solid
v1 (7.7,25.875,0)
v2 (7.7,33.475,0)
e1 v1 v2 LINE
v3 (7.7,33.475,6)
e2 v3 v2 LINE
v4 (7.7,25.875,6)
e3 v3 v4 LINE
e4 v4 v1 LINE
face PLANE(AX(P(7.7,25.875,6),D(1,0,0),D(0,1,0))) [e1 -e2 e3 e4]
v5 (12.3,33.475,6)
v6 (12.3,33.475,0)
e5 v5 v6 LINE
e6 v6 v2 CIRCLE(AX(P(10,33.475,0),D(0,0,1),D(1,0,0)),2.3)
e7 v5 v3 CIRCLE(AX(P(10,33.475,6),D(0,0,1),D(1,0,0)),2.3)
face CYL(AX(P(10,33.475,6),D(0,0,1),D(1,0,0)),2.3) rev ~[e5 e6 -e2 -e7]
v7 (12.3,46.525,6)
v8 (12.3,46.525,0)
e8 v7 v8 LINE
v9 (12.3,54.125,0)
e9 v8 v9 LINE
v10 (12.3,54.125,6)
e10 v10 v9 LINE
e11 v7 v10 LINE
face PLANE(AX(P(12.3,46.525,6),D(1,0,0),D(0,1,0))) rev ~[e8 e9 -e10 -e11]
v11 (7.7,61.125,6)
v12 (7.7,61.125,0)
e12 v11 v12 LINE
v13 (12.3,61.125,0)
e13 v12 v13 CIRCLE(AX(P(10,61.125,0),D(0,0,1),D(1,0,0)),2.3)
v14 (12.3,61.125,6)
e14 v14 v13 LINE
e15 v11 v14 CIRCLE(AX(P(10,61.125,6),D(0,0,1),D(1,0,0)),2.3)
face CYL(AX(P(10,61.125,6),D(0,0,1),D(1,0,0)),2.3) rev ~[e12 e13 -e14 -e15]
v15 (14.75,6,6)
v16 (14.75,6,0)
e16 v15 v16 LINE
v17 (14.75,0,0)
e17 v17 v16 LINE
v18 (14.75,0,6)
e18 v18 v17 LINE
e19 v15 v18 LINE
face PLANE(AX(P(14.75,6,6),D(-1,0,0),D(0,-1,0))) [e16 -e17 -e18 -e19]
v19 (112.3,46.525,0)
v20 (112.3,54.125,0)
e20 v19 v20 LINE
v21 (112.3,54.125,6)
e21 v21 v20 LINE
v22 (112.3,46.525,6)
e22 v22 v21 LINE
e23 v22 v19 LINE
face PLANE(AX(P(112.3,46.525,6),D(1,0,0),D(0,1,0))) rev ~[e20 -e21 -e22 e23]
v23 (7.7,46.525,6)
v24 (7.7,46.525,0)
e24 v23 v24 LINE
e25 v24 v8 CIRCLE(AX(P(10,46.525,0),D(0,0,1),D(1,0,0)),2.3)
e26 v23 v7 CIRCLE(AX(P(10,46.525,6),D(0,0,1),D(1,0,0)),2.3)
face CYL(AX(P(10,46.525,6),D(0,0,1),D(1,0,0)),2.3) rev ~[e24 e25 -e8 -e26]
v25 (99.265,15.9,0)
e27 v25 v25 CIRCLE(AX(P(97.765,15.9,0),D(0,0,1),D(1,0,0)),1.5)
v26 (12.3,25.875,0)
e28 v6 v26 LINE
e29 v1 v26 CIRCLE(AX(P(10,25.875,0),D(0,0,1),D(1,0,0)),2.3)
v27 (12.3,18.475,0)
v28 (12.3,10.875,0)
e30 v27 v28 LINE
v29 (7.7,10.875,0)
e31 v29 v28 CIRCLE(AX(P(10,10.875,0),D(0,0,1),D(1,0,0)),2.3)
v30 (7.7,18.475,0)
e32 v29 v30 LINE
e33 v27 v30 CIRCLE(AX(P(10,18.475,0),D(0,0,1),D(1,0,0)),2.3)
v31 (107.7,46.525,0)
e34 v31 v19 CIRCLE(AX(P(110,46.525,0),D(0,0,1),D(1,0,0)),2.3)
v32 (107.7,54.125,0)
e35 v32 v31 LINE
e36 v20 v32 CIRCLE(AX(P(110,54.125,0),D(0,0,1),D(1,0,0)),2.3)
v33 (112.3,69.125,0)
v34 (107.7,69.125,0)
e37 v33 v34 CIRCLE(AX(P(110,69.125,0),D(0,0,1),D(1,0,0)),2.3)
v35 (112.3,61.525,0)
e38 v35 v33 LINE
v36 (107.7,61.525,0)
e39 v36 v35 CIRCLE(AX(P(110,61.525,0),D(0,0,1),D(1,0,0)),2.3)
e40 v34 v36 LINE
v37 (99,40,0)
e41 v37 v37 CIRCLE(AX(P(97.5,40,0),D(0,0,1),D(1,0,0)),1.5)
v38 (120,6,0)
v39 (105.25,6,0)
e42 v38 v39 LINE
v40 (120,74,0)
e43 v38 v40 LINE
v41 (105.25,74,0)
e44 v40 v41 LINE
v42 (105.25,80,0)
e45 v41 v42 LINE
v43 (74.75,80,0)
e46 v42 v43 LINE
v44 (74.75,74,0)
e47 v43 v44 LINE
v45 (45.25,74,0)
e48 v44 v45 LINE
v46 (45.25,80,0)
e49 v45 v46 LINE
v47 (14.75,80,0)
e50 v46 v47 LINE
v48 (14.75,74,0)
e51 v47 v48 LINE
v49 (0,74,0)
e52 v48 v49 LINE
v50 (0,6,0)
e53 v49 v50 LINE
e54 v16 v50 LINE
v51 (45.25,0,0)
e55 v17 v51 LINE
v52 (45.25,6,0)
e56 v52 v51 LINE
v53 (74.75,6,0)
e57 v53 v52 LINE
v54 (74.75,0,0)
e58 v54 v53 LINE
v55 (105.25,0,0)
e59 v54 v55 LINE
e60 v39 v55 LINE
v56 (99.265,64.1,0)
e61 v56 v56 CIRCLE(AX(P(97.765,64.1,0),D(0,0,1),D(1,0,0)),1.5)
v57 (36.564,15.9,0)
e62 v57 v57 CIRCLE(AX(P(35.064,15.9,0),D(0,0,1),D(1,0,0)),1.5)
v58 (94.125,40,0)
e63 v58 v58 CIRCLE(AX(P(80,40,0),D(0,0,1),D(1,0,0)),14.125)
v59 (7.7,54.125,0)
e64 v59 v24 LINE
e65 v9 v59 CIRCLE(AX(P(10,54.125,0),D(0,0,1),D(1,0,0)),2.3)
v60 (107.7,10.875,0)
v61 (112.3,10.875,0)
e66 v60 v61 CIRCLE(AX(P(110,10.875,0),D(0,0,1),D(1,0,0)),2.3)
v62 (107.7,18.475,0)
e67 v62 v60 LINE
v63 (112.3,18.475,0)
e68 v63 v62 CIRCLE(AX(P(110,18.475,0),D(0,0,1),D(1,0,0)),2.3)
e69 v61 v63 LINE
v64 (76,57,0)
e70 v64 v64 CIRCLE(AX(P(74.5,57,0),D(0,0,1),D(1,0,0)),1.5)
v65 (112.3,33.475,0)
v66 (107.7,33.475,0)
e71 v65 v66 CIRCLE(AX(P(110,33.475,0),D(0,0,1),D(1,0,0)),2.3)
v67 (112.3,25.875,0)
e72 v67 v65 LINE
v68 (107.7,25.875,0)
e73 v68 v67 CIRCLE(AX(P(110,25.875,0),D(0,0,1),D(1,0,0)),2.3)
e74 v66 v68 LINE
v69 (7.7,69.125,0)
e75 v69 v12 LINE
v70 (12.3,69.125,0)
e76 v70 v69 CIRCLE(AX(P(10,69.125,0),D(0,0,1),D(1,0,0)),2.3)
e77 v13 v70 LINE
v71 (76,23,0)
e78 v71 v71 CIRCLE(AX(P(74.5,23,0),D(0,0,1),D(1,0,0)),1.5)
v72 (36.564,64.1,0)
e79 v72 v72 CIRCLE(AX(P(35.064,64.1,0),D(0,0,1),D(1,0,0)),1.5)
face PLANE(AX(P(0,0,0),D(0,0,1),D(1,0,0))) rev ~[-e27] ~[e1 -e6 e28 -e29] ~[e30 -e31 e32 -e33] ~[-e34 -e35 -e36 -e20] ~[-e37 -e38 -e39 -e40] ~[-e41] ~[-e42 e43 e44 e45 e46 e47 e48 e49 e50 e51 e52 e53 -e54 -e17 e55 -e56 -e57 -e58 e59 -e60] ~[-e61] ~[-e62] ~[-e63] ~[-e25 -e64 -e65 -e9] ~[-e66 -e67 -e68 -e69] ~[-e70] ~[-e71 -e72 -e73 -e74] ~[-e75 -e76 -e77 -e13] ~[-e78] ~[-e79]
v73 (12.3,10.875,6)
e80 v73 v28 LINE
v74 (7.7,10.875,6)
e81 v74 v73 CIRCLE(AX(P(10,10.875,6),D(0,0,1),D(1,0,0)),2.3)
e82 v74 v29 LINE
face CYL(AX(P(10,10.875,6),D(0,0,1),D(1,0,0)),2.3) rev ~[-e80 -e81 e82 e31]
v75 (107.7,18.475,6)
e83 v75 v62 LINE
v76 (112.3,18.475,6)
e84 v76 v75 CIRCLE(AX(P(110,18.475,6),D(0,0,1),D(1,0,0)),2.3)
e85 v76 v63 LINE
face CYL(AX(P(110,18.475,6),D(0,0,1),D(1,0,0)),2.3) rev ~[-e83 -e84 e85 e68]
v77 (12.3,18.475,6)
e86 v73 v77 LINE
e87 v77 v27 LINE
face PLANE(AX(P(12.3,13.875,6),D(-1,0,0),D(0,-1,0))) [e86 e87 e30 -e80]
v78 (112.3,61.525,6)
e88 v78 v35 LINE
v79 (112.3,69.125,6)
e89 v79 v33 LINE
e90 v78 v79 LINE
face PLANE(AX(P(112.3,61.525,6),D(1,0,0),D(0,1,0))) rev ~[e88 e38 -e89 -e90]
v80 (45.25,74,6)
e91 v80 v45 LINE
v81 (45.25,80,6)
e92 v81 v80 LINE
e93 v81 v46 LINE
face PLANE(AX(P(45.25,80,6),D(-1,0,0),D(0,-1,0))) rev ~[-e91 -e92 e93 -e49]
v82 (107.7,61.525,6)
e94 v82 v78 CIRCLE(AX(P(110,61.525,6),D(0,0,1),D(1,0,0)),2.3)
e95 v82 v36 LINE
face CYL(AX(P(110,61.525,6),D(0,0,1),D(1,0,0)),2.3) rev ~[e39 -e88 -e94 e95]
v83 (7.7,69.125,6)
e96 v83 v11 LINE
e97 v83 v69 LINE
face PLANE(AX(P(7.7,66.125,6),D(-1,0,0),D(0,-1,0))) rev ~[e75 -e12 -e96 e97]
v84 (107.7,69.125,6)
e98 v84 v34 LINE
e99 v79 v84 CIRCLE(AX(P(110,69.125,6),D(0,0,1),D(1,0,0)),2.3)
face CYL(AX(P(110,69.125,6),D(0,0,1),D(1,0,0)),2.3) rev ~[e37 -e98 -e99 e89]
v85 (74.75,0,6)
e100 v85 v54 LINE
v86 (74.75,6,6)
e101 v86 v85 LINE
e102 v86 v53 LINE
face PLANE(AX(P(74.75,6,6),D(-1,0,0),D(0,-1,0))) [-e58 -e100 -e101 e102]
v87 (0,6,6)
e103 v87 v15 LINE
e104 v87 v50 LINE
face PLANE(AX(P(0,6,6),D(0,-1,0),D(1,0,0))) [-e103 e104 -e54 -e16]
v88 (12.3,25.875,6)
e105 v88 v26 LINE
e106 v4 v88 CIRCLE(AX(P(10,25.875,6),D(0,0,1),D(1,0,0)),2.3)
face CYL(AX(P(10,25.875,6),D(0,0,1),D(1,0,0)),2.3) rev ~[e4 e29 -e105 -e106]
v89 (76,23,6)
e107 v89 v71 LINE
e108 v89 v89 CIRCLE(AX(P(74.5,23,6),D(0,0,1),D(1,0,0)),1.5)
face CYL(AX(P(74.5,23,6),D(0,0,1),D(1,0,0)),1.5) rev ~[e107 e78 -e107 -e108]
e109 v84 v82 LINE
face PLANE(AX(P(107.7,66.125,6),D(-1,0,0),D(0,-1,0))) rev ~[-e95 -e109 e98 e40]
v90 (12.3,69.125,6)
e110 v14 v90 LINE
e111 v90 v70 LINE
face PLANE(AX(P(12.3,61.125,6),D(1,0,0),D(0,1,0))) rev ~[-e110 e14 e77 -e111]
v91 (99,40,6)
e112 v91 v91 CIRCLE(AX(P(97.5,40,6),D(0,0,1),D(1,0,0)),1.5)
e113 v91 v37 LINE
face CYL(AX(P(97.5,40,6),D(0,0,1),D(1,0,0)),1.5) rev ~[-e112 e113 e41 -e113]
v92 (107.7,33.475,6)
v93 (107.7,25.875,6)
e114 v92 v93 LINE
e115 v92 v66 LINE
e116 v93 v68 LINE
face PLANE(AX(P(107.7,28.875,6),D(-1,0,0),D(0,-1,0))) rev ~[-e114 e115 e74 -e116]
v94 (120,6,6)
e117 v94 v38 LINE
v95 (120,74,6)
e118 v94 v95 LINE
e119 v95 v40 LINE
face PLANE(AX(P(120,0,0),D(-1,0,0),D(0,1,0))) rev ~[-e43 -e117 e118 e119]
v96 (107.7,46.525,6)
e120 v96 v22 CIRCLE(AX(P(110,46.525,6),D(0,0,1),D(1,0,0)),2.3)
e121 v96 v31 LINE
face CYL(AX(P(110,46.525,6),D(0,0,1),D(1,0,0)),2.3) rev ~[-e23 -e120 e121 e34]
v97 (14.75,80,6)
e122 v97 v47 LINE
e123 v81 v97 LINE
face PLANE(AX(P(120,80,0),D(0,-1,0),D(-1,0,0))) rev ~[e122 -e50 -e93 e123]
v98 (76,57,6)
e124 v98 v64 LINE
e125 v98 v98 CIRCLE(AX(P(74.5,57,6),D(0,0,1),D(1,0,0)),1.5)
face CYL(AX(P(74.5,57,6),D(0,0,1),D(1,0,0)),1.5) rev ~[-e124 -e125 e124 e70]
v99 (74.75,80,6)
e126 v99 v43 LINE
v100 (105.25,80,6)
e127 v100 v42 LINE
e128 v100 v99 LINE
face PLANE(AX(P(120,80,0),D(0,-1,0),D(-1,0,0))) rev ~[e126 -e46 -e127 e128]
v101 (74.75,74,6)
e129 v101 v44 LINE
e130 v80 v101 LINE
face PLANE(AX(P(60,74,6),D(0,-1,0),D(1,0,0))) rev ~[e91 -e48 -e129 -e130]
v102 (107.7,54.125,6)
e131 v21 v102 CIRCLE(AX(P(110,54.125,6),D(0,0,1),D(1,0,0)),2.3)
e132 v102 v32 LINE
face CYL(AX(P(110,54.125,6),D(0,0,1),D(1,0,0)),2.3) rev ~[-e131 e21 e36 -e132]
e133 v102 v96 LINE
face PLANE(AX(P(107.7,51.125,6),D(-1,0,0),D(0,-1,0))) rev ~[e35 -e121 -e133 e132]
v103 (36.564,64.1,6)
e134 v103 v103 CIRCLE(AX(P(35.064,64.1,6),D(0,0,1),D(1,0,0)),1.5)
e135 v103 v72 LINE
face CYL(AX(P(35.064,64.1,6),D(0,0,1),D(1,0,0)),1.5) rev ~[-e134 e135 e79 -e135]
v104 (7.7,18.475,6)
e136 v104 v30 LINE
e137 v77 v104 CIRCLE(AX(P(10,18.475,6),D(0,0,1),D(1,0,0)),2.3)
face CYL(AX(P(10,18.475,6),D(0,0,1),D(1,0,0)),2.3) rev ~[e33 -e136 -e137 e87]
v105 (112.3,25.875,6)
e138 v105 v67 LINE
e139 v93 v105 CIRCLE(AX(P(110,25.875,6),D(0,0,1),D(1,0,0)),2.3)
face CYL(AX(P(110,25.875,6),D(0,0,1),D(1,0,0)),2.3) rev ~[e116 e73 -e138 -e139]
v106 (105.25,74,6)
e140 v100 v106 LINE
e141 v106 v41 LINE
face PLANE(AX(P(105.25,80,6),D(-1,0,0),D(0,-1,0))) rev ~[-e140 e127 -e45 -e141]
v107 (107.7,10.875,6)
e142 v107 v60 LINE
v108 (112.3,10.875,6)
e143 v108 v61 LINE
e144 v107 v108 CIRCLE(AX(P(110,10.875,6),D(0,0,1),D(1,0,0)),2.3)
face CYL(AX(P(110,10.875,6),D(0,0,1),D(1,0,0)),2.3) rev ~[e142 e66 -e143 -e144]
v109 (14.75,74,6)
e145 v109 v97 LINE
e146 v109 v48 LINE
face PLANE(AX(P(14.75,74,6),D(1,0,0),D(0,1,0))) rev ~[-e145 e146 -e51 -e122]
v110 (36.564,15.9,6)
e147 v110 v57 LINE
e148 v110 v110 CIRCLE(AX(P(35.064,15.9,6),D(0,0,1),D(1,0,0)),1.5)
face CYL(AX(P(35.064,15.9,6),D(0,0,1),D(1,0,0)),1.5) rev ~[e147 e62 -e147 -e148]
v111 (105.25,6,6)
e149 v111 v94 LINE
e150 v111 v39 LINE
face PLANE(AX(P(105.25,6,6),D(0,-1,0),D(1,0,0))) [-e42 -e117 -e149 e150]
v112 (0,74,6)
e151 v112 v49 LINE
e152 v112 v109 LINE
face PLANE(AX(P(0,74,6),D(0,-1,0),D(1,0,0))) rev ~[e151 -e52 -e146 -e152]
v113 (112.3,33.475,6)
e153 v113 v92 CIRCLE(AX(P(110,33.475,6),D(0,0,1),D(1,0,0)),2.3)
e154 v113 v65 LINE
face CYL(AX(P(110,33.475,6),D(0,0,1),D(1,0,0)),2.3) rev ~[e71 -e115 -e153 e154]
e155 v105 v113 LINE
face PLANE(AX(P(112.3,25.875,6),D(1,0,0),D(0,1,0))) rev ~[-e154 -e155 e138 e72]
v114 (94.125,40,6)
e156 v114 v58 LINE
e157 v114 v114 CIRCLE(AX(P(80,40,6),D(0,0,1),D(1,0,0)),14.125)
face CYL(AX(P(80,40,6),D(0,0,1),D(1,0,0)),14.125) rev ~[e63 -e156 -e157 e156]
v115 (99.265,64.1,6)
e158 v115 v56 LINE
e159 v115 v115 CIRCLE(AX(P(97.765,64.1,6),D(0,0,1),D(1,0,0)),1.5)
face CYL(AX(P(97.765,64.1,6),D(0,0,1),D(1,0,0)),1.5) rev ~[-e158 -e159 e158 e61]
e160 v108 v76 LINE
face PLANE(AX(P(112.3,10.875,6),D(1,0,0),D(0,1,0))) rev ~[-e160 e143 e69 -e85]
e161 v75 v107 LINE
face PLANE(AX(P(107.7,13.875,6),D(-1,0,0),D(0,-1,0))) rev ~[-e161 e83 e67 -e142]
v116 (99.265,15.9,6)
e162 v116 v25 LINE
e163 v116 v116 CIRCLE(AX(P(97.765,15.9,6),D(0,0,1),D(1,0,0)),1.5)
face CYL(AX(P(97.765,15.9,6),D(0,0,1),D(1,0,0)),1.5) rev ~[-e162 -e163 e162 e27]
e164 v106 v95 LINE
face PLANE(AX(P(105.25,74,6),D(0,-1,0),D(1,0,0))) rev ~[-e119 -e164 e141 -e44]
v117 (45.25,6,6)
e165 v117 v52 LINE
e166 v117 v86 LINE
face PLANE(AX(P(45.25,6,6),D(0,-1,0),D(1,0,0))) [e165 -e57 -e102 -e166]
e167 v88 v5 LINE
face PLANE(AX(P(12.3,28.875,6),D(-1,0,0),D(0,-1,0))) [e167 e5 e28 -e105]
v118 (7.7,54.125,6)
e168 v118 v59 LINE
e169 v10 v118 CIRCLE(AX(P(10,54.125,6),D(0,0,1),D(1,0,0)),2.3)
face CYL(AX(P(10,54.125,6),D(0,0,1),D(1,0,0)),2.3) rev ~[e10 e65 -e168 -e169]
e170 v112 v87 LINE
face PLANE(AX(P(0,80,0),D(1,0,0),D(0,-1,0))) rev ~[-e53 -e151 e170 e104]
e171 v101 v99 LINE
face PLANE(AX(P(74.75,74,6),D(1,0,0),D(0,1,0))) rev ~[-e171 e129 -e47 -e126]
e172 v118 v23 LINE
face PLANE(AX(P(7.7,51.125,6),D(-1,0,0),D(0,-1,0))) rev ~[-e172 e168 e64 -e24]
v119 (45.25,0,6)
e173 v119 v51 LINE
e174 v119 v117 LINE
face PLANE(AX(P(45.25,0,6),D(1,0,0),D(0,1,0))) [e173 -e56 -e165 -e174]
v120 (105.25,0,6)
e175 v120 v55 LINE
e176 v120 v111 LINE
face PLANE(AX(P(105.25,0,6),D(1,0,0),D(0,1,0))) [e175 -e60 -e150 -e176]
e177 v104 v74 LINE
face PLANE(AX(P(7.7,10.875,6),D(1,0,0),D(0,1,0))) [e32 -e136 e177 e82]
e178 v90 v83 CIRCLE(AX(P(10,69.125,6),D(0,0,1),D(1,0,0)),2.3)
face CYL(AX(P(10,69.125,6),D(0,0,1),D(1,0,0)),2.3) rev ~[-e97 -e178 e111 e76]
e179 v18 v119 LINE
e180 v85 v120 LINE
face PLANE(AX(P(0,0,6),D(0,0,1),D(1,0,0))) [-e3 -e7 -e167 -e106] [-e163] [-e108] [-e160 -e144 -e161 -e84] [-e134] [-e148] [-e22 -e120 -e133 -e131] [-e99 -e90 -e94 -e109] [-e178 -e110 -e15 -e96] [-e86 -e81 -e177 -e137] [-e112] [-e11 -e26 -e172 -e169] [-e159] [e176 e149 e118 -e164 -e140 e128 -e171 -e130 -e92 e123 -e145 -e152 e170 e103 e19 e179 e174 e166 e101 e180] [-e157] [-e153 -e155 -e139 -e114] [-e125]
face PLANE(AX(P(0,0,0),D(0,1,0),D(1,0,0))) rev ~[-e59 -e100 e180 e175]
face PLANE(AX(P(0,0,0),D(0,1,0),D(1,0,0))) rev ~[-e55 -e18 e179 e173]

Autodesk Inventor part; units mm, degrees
ref_plane "YZ Plane" through (0, 0, 0) normal (1, 0, 0) x (0, 1, 0)
ref_plane "XZ Plane" through (0, 0, 0) normal (0, 1, 0) x (-1, 0, 0)
ref_plane "XY Plane" through (0, 0, 0) normal (0, 0, 1) x (1, 0, 0)
sketch "Sketch1" plane through (0, 0, 0) normal (0, 0, 1) x (1, 0, 0)
  line L0 (0, 0) -> (120, 0)
  line L1 (120, 0) -> (120, 80)
  line L2 (120, 80) -> (0, 80)
  line L3 (0, 80) -> (0, 0)
  dimension "d0" = 120
  dimension "d1" = 80
extrude "Extrusion1" add sketch "Sketch1" along normal blind 6
sketch "Sketch2" plane through (0, 0, 6) normal (0, 0, 1) x (1, 0, 0)
  line L0 (0, 0) -> (120, 0) projected
  line L1 (120, 0) -> (120, 80) projected
  line L2 (120, 80) -> (0, 80) projected
  line L3 (0, 80) -> (0, 0) projected
  line L4 (120, 0) -> (105.25, 0)
  line L5 (105.25, 0) -> (105.25, 6)
  line L6 (105.25, 6) -> (120, 6)
  line L7 (120, 6) -> (120, 0)
  line L8 (0, 0) -> (120, 0) projected
  line L9 (74.75, 0) -> (45.25, 0)
  line L10 (45.25, 0) -> (45.25, 6)
  line L11 (45.25, 6) -> (74.75, 6)
  line L12 (74.75, 6) -> (74.75, 0)
  line L13 (14.75, 0) -> (0, 0)
  line L14 (0, 0) -> (0, 6)
  line L15 (0, 6) -> (14.75, 6)
  line L16 (14.75, 6) -> (14.75, 0)
  line L17 (120, 80) -> (105.25, 80)
  line L18 (105.25, 80) -> (105.25, 74)
  line L19 (105.25, 74) -> (120, 74)
  line L20 (120, 74) -> (120, 80)
  line L21 (120, 80) -> (0, 80) projected
  line L22 (74.75, 80) -> (45.25, 80)
  line L23 (45.25, 80) -> (45.25, 74)
  line L24 (45.25, 74) -> (74.75, 74)
  line L25 (74.75, 74) -> (74.75, 80)
  line L26 (14.75, 80) -> (0, 80)
  line L27 (0, 80) -> (0, 74)
  line L28 (0, 74) -> (14.75, 74)
  line L29 (14.75, 74) -> (14.75, 80)
  line L30 (60, -24.5918) -> (60, 107.6161)
  line L31 (0, 80) -> (0, 0) projected
  dimension "d4" = 6
  dimension "d5" = 6
  dimension "d6" = 14.75
  dimension "d7" = 14.75
  dimension "d8" = 29.5
  dimension "d18" = 60
  dimension "d19" = 14.75
extrude "Extrusion2" cut sketch "Sketch2" against normal up to next contours L3 L15 L16 L0 | L10 L11 L30 L0 | L3 L2 L29 L28 | L30 L11 L12 L0 | L5 L6 L1 L0 | L30 L2 L25 L24 | L24 L23 L2 L30 | L19 L18 L2 L1
sketch "Sketch3" plane through (0, 0, 6) normal (0, 0, 1) x (1, 0, 0)
  circle A0 centre (80, 40) radius 4.6
  line L0 (74.75, 0) -> (105.25, 0) projected
  line L1 (120, 6) -> (120, 74) projected
  point P0 (0, 0)
  dimension "d13" = 9.2
  dimension "d14" = 40
  dimension "d15" = 40
extrude "Extrusion3" cut sketch "Sketch3" against normal up to next
sketch "Sketch4" plane through (0, 0, 6) normal (0, 0, 1) x (1, 0, 0)
  circle A0 centre (80, 40) radius 4.6 projected
  line L0 (74.75, 6) -> (74.75, 0) projected
  line L1 (74.75, 0) -> (105.25, 0) projected
  line L2 (105.25, 0) -> (105.25, 6) projected
  line L3 (105.25, 6) -> (120, 6) projected
  line L4 (120, 6) -> (120, 74) projected
  line L5 (120, 74) -> (105.25, 74) projected
  line L6 (105.25, 74) -> (105.25, 80) projected
  line L7 (105.25, 80) -> (74.75, 80) projected
  line L8 (74.75, 80) -> (74.75, 74) projected
  line L9 (74.75, 74) -> (45.25, 74) projected
  line L10 (45.25, 74) -> (45.25, 80) projected
  line L11 (45.25, 80) -> (14.75, 80) projected
  line L12 (14.75, 80) -> (14.75, 74) projected
  line L13 (14.75, 74) -> (0, 74) projected
  line L14 (0, 74) -> (0, 6) projected
  line L15 (0, 6) -> (14.75, 6) projected
  line L16 (14.75, 6) -> (14.75, 0) projected
  line L17 (14.75, 0) -> (45.25, 0) projected
  line L18 (45.25, 0) -> (45.25, 6) projected
  line L19 (45.25, 6) -> (74.75, 6) projected
  circle A1 centre (80, 40) radius 14.125
  circle A2 centre (97.5, 40) radius 1.5
  circle A3 centre (74.5, 57) radius 1.5
  circle A4 centre (74.5, 23) radius 1.5
  circle A5 centre (35.064, 64.1) radius 1.5
  circle A6 centre (35.064, 15.9) radius 1.5
  line L20 (80, 40) -> (97.5, 40) construction
  circle A7 centre (10, 66.125) radius 2.3
  circle A8 centre (10, 51.125) radius 2.3
  circle A9 centre (10, 13.875) radius 2.3
  circle A10 centre (10, 28.875) radius 2.3
  circle A11 centre (110, 66.125) radius 2.3
  circle A12 centre (110, 51.125) radius 2.3
  circle A13 centre (110, 13.875) radius 2.3
  circle A14 centre (110, 28.875) radius 2.3
  line L21 (10, 66.125) -> (110, 66.125) construction
  line L22 (110, 66.125) -> (110, 13.875) construction
  line L23 (110, 13.875) -> (10, 13.875) construction
  line L24 (10, 13.875) -> (10, 66.125) construction
  circle A15 centre (10, 61.125) radius 2.3
  circle A16 centre (10, 54.125) radius 2.3
  circle A17 centre (10, 69.125) radius 2.3
  circle A18 centre (10, 46.525) radius 2.3
  circle A19 centre (10, 33.475) radius 2.3
  circle A20 centre (10, 25.875) radius 2.3
  circle A21 centre (10, 18.475) radius 2.3
  circle A22 centre (10, 10.875) radius 2.3
  circle A23 centre (110, 69.125) radius 2.3
  circle A24 centre (110, 61.525) radius 2.3
  circle A25 centre (110, 54.125) radius 2.3
  circle A26 centre (110, 46.525) radius 2.3
  circle A27 centre (110, 33.475) radius 2.3
  circle A28 centre (110, 25.875) radius 2.3
  circle A29 centre (110, 18.475) radius 2.3
  circle A30 centre (110, 10.875) radius 2.3
  line L25 (7.7, 69.125) -> (7.7, 61.125)
  line L26 (12.3, 61.125) -> (12.3, 69.125)
  line L27 (7.7, 54.125) -> (7.7, 46.525)
  line L28 (12.3, 46.525) -> (12.3, 54.125)
  line L29 (7.7, 10.875) -> (7.7, 18.475)
  line L30 (7.7, 25.875) -> (7.7, 33.475)
  line L31 (12.3, 33.475) -> (12.3, 25.875)
  line L32 (12.3, 18.475) -> (12.3, 10.875)
  line L33 (112.3, 61.525) -> (112.3, 69.125)
  line L34 (107.7, 69.125) -> (107.7, 61.525)
  line L35 (107.7, 54.125) -> (107.7, 46.525)
  line L36 (112.3, 46.525) -> (112.3, 54.125)
  line L37 (107.7, 33.475) -> (107.7, 25.875)
  line L38 (107.7, 18.475) -> (107.7, 10.875)
  line L39 (112.3, 10.875) -> (112.3, 18.475)
  line L40 (112.3, 25.875) -> (112.3, 33.475)
  point P0 (0, 0)
  dimension "d20" = 28.25
  dimension "d21" = 3
  dimension "d22" = 3
  dimension "d23" = 3
  dimension "d24" = 3
  dimension "d25" = 3
  dimension "d26" = 17.5
  dimension "d27" = 5.5
  dimension "d28" = 5.5
  dimension "d29" = 34
  dimension "d30" = 17
  dimension "d31" = 48.2
  dimension "d32" = 24.1
  dimension "d33" = 44.936
  dimension "d34" = 44.936
  dimension "d37" = 10
  dimension "d38" = 10
  dimension "d39" = 4.6
  dimension "d40" = 4.6
  dimension "d41" = 4.6
  dimension "d42" = 4.6
  dimension "d43" = 4.6
  dimension "d44" = 4.6
  dimension "d45" = 4.6
  dimension "d46" = 4.6
  dimension "d47" = 13.875
  dimension "d48" = 13.875
  dimension "d49" = 15
  dimension "d50" = 15
  dimension "d51" = 15
  dimension "d52" = 15
  dimension "d53" = 4.6
  dimension "d54" = 4.6
  dimension "d56" = 3
  dimension "d57" = 5
  dimension "d58" = 4.6
  dimension "d59" = 3
  dimension "d60" = 4.6
  dimension "d61" = 4.6
  dimension "d62" = 4.6
  dimension "d63" = 4.6
  dimension "d64" = 4.6
  dimension "d65" = 3
  dimension "d66" = 3
  dimension "d67" = 4.6
  dimension "d68" = 4.6
  dimension "d69" = 4.6
  dimension "d70" = 4.6
  dimension "d71" = 4.6
  dimension "d72" = 4.6
  dimension "d73" = 4.6
  dimension "d74" = 4.6
  dimension "d75" = 3
  dimension "d76" = 3
  dimension "d77" = 3
  dimension "d78" = 3
extrude "Extrusion4" cut sketch "Sketch4" against normal blind 10 contours A1 | A2 | A3 | A4 | A5 | A6
extrude "Extrusion5" cut sketch "Sketch4" against normal blind 10 contours A7 A17 | L26 A15 L25 A7 | A7 A17 L26 | A17 A7 | A7 A17 | L25 A17 A7 | A15 | A8 A16 | L28 A18 A8 | A8 A16 L28 | A16 A8 | A8 A16 | A18 L27 A8 | A18 | A8 L27 A16 | A9 A22 | L32 A22 A9 | A9 A21 L32 | A9 L29 A21 | A21 | A22 A9 | A9 A22 | A9 A22 L29 | A10 A20 | L31 A20 A10 | A10 A19 L31 | A10 L30 A19 | A19 | A20 A10 | A10 A20 | A10 A20 L30 | A11 A23 | L33 A24 A11 | A11 A23 L33 | A23 A11 | A11 A23 | A24 L34 A11 | A24 | A11 L34 A23 | A12 A25 | L36 A26 A12 | A12 A25 L36 | A25 A12 | A12 A25 | A26 L35 A12 | A26 | A12 L35 A25 | A13 A30 | L39 A30 A13 | A13 A29 L39 | A13 L38 A29 | A29 | A30 A13 | A13 A30 | A13 A30 L38 | A14 A28 | L40 A28 A14 | A14 A27 L40 | A14 L37 A27 | A27 | A28 A14 | A14 A28 | A14 A28 L37
sketch "Sketch6" plane through (0, 0, 6) normal (0, 0, 1) x (1, 0, 0)
  line L0 (107.7, 25.875) -> (107.7, 33.475) projected
  arc A0 (112.3, 33.475) -> (107.7, 33.475) centre (110, 33.475) ccw projected
  line L1 (112.3, 33.475) -> (112.3, 25.875) projected
  arc A1 (107.7, 25.875) -> (112.3, 25.875) centre (110, 25.875) ccw projected
  line L2 (7.7, 25.875) -> (7.7, 33.475) projected
  arc A2 (12.3, 33.475) -> (7.7, 33.475) centre (10, 33.475) ccw projected
  line L3 (12.3, 33.475) -> (12.3, 25.875) projected
  arc A3 (7.7, 25.875) -> (12.3, 25.875) centre (10, 25.875) ccw projected
  line L4 (12.3, 54.125) -> (12.3, 46.525) projected
  arc A4 (7.7, 46.525) -> (12.3, 46.525) centre (10, 46.525) ccw projected
  line L5 (7.7, 46.525) -> (7.7, 54.125) projected
  arc A5 (12.3, 54.125) -> (7.7, 54.125) centre (10, 54.125) ccw projected
  line L6 (7.7, 10.875) -> (7.7, 18.475) projected
  arc A6 (12.3, 18.475) -> (7.7, 18.475) centre (10, 18.475) ccw projected
  line L7 (12.3, 18.475) -> (12.3, 10.875) projected
  arc A7 (7.7, 10.875) -> (12.3, 10.875) centre (10, 10.875) ccw projected
  line L8 (107.7, 61.525) -> (107.7, 69.125) projected
  arc A8 (112.3, 69.125) -> (107.7, 69.125) centre (110, 69.125) ccw projected
  line L9 (112.3, 69.125) -> (112.3, 61.525) projected
  arc A9 (107.7, 61.525) -> (112.3, 61.525) centre (110, 61.525) ccw projected
  line L10 (112.3, 18.475) -> (112.3, 10.875) projected
  arc A10 (107.7, 10.875) -> (112.3, 10.875) centre (110, 10.875) ccw projected
  line L11 (107.7, 10.875) -> (107.7, 18.475) projected
  arc A11 (112.3, 18.475) -> (107.7, 18.475) centre (110, 18.475) ccw projected
  line L12 (7.7, 61.125) -> (7.7, 69.125) projected
  arc A12 (12.3, 69.125) -> (7.7, 69.125) centre (10, 69.125) ccw projected
  line L13 (12.3, 69.125) -> (12.3, 61.125) projected
  arc A13 (7.7, 61.125) -> (12.3, 61.125) centre (10, 61.125) ccw projected
  line L14 (112.3, 54.125) -> (112.3, 46.525) projected
  arc A14 (107.7, 46.525) -> (112.3, 46.525) centre (110, 46.525) ccw projected
  line L15 (107.7, 46.525) -> (107.7, 54.125) projected
  arc A15 (112.3, 54.125) -> (107.7, 54.125) centre (110, 54.125) ccw projected
  circle A16 centre (80, 40) radius 14.125 projected
  circle A17 centre (35.064, 64.1) radius 1.5 projected
  circle A18 centre (74.5, 57) radius 1.5 projected
  circle A19 centre (97.5, 40) radius 1.5 projected
  circle A20 centre (74.5, 23) radius 1.5 projected
  circle A21 centre (35.064, 15.9) radius 1.5 projected
  line L16 (74.75, 6) -> (74.75, 0) projected
  line L17 (74.75, 0) -> (105.25, 0) projected
  line L18 (105.25, 0) -> (105.25, 6) projected
  line L19 (105.25, 6) -> (120, 6) projected
  line L20 (120, 6) -> (120, 74) projected
  line L21 (120, 74) -> (105.25, 74) projected
  line L22 (105.25, 74) -> (105.25, 80) projected
  line L23 (105.25, 80) -> (74.75, 80) projected
  line L24 (74.75, 80) -> (74.75, 74) projected
  line L25 (74.75, 74) -> (45.25, 74) projected
  line L26 (45.25, 74) -> (45.25, 80) projected
  line L27 (45.25, 80) -> (14.75, 80) projected
  line L28 (14.75, 80) -> (14.75, 74) projected
  line L29 (14.75, 74) -> (0, 74) projected
  line L30 (0, 74) -> (0, 6) projected
  line L31 (0, 6) -> (14.75, 6) projected
  line L32 (14.75, 6) -> (14.75, 0) projected
  line L33 (14.75, 0) -> (45.25, 0) projected
  line L34 (45.25, 0) -> (45.25, 6) projected
  line L35 (45.25, 6) -> (74.75, 6) projected
  circle A22 centre (97.765, 15.9) radius 1.5
  circle A23 centre (97.765, 64.1) radius 1.5
  point P0 (0, 0)
  dimension "d94" = 62.701
  dimension "d95" = 15.9
  dimension "d96" = 15.9
  dimension "d97" = 3
  dimension "d98" = 62.701
  dimension "d99" = 15.9
  dimension "d100" = 3
extrude "Extrusion7" cut sketch "Sketch6" against normal blind 10 contours A22 | A23
equation "\"d22\" = d21"
equation "\"d23\" = d21"
equation "\"d24\" = d21"
equation "\"d25\" = d21"
equation "\"d30\" = 0.5 * d29"
equation "\"d32\" = 0.5 * d31"
equation "\"d34\" = d33"
equation "\"d39\" = d64"
equation "\"d40\" = d64"
equation "\"d41\" = d64"
equation "\"d42\" = d64"
equation "\"d43\" = d74"
equation "\"d44\" = d74"
equation "\"d45\" = d74"
equation "\"d46\" = d74"
equation "\"d48\" = d47"
equation "\"d53\" = d64"
equation "\"d54\" = d64"
equation "\"d58\" = d64"
equation "\"d60\" = d64"
equation "\"d61\" = d64"
equation "\"d62\" = d64"
equation "\"d63\" = d64"
equation "\"d67\" = d74"
equation "\"d68\" = d74"
equation "\"d69\" = d74"
equation "\"d70\" = d74"
equation "\"d71\" = d74"
equation "\"d72\" = d74"
equation "\"d73\" = d74"
equation "\"d96\" = d95"
equation "\"d98\" = d94"
equation "\"d99\" = d96"
properties part number "bottom"
